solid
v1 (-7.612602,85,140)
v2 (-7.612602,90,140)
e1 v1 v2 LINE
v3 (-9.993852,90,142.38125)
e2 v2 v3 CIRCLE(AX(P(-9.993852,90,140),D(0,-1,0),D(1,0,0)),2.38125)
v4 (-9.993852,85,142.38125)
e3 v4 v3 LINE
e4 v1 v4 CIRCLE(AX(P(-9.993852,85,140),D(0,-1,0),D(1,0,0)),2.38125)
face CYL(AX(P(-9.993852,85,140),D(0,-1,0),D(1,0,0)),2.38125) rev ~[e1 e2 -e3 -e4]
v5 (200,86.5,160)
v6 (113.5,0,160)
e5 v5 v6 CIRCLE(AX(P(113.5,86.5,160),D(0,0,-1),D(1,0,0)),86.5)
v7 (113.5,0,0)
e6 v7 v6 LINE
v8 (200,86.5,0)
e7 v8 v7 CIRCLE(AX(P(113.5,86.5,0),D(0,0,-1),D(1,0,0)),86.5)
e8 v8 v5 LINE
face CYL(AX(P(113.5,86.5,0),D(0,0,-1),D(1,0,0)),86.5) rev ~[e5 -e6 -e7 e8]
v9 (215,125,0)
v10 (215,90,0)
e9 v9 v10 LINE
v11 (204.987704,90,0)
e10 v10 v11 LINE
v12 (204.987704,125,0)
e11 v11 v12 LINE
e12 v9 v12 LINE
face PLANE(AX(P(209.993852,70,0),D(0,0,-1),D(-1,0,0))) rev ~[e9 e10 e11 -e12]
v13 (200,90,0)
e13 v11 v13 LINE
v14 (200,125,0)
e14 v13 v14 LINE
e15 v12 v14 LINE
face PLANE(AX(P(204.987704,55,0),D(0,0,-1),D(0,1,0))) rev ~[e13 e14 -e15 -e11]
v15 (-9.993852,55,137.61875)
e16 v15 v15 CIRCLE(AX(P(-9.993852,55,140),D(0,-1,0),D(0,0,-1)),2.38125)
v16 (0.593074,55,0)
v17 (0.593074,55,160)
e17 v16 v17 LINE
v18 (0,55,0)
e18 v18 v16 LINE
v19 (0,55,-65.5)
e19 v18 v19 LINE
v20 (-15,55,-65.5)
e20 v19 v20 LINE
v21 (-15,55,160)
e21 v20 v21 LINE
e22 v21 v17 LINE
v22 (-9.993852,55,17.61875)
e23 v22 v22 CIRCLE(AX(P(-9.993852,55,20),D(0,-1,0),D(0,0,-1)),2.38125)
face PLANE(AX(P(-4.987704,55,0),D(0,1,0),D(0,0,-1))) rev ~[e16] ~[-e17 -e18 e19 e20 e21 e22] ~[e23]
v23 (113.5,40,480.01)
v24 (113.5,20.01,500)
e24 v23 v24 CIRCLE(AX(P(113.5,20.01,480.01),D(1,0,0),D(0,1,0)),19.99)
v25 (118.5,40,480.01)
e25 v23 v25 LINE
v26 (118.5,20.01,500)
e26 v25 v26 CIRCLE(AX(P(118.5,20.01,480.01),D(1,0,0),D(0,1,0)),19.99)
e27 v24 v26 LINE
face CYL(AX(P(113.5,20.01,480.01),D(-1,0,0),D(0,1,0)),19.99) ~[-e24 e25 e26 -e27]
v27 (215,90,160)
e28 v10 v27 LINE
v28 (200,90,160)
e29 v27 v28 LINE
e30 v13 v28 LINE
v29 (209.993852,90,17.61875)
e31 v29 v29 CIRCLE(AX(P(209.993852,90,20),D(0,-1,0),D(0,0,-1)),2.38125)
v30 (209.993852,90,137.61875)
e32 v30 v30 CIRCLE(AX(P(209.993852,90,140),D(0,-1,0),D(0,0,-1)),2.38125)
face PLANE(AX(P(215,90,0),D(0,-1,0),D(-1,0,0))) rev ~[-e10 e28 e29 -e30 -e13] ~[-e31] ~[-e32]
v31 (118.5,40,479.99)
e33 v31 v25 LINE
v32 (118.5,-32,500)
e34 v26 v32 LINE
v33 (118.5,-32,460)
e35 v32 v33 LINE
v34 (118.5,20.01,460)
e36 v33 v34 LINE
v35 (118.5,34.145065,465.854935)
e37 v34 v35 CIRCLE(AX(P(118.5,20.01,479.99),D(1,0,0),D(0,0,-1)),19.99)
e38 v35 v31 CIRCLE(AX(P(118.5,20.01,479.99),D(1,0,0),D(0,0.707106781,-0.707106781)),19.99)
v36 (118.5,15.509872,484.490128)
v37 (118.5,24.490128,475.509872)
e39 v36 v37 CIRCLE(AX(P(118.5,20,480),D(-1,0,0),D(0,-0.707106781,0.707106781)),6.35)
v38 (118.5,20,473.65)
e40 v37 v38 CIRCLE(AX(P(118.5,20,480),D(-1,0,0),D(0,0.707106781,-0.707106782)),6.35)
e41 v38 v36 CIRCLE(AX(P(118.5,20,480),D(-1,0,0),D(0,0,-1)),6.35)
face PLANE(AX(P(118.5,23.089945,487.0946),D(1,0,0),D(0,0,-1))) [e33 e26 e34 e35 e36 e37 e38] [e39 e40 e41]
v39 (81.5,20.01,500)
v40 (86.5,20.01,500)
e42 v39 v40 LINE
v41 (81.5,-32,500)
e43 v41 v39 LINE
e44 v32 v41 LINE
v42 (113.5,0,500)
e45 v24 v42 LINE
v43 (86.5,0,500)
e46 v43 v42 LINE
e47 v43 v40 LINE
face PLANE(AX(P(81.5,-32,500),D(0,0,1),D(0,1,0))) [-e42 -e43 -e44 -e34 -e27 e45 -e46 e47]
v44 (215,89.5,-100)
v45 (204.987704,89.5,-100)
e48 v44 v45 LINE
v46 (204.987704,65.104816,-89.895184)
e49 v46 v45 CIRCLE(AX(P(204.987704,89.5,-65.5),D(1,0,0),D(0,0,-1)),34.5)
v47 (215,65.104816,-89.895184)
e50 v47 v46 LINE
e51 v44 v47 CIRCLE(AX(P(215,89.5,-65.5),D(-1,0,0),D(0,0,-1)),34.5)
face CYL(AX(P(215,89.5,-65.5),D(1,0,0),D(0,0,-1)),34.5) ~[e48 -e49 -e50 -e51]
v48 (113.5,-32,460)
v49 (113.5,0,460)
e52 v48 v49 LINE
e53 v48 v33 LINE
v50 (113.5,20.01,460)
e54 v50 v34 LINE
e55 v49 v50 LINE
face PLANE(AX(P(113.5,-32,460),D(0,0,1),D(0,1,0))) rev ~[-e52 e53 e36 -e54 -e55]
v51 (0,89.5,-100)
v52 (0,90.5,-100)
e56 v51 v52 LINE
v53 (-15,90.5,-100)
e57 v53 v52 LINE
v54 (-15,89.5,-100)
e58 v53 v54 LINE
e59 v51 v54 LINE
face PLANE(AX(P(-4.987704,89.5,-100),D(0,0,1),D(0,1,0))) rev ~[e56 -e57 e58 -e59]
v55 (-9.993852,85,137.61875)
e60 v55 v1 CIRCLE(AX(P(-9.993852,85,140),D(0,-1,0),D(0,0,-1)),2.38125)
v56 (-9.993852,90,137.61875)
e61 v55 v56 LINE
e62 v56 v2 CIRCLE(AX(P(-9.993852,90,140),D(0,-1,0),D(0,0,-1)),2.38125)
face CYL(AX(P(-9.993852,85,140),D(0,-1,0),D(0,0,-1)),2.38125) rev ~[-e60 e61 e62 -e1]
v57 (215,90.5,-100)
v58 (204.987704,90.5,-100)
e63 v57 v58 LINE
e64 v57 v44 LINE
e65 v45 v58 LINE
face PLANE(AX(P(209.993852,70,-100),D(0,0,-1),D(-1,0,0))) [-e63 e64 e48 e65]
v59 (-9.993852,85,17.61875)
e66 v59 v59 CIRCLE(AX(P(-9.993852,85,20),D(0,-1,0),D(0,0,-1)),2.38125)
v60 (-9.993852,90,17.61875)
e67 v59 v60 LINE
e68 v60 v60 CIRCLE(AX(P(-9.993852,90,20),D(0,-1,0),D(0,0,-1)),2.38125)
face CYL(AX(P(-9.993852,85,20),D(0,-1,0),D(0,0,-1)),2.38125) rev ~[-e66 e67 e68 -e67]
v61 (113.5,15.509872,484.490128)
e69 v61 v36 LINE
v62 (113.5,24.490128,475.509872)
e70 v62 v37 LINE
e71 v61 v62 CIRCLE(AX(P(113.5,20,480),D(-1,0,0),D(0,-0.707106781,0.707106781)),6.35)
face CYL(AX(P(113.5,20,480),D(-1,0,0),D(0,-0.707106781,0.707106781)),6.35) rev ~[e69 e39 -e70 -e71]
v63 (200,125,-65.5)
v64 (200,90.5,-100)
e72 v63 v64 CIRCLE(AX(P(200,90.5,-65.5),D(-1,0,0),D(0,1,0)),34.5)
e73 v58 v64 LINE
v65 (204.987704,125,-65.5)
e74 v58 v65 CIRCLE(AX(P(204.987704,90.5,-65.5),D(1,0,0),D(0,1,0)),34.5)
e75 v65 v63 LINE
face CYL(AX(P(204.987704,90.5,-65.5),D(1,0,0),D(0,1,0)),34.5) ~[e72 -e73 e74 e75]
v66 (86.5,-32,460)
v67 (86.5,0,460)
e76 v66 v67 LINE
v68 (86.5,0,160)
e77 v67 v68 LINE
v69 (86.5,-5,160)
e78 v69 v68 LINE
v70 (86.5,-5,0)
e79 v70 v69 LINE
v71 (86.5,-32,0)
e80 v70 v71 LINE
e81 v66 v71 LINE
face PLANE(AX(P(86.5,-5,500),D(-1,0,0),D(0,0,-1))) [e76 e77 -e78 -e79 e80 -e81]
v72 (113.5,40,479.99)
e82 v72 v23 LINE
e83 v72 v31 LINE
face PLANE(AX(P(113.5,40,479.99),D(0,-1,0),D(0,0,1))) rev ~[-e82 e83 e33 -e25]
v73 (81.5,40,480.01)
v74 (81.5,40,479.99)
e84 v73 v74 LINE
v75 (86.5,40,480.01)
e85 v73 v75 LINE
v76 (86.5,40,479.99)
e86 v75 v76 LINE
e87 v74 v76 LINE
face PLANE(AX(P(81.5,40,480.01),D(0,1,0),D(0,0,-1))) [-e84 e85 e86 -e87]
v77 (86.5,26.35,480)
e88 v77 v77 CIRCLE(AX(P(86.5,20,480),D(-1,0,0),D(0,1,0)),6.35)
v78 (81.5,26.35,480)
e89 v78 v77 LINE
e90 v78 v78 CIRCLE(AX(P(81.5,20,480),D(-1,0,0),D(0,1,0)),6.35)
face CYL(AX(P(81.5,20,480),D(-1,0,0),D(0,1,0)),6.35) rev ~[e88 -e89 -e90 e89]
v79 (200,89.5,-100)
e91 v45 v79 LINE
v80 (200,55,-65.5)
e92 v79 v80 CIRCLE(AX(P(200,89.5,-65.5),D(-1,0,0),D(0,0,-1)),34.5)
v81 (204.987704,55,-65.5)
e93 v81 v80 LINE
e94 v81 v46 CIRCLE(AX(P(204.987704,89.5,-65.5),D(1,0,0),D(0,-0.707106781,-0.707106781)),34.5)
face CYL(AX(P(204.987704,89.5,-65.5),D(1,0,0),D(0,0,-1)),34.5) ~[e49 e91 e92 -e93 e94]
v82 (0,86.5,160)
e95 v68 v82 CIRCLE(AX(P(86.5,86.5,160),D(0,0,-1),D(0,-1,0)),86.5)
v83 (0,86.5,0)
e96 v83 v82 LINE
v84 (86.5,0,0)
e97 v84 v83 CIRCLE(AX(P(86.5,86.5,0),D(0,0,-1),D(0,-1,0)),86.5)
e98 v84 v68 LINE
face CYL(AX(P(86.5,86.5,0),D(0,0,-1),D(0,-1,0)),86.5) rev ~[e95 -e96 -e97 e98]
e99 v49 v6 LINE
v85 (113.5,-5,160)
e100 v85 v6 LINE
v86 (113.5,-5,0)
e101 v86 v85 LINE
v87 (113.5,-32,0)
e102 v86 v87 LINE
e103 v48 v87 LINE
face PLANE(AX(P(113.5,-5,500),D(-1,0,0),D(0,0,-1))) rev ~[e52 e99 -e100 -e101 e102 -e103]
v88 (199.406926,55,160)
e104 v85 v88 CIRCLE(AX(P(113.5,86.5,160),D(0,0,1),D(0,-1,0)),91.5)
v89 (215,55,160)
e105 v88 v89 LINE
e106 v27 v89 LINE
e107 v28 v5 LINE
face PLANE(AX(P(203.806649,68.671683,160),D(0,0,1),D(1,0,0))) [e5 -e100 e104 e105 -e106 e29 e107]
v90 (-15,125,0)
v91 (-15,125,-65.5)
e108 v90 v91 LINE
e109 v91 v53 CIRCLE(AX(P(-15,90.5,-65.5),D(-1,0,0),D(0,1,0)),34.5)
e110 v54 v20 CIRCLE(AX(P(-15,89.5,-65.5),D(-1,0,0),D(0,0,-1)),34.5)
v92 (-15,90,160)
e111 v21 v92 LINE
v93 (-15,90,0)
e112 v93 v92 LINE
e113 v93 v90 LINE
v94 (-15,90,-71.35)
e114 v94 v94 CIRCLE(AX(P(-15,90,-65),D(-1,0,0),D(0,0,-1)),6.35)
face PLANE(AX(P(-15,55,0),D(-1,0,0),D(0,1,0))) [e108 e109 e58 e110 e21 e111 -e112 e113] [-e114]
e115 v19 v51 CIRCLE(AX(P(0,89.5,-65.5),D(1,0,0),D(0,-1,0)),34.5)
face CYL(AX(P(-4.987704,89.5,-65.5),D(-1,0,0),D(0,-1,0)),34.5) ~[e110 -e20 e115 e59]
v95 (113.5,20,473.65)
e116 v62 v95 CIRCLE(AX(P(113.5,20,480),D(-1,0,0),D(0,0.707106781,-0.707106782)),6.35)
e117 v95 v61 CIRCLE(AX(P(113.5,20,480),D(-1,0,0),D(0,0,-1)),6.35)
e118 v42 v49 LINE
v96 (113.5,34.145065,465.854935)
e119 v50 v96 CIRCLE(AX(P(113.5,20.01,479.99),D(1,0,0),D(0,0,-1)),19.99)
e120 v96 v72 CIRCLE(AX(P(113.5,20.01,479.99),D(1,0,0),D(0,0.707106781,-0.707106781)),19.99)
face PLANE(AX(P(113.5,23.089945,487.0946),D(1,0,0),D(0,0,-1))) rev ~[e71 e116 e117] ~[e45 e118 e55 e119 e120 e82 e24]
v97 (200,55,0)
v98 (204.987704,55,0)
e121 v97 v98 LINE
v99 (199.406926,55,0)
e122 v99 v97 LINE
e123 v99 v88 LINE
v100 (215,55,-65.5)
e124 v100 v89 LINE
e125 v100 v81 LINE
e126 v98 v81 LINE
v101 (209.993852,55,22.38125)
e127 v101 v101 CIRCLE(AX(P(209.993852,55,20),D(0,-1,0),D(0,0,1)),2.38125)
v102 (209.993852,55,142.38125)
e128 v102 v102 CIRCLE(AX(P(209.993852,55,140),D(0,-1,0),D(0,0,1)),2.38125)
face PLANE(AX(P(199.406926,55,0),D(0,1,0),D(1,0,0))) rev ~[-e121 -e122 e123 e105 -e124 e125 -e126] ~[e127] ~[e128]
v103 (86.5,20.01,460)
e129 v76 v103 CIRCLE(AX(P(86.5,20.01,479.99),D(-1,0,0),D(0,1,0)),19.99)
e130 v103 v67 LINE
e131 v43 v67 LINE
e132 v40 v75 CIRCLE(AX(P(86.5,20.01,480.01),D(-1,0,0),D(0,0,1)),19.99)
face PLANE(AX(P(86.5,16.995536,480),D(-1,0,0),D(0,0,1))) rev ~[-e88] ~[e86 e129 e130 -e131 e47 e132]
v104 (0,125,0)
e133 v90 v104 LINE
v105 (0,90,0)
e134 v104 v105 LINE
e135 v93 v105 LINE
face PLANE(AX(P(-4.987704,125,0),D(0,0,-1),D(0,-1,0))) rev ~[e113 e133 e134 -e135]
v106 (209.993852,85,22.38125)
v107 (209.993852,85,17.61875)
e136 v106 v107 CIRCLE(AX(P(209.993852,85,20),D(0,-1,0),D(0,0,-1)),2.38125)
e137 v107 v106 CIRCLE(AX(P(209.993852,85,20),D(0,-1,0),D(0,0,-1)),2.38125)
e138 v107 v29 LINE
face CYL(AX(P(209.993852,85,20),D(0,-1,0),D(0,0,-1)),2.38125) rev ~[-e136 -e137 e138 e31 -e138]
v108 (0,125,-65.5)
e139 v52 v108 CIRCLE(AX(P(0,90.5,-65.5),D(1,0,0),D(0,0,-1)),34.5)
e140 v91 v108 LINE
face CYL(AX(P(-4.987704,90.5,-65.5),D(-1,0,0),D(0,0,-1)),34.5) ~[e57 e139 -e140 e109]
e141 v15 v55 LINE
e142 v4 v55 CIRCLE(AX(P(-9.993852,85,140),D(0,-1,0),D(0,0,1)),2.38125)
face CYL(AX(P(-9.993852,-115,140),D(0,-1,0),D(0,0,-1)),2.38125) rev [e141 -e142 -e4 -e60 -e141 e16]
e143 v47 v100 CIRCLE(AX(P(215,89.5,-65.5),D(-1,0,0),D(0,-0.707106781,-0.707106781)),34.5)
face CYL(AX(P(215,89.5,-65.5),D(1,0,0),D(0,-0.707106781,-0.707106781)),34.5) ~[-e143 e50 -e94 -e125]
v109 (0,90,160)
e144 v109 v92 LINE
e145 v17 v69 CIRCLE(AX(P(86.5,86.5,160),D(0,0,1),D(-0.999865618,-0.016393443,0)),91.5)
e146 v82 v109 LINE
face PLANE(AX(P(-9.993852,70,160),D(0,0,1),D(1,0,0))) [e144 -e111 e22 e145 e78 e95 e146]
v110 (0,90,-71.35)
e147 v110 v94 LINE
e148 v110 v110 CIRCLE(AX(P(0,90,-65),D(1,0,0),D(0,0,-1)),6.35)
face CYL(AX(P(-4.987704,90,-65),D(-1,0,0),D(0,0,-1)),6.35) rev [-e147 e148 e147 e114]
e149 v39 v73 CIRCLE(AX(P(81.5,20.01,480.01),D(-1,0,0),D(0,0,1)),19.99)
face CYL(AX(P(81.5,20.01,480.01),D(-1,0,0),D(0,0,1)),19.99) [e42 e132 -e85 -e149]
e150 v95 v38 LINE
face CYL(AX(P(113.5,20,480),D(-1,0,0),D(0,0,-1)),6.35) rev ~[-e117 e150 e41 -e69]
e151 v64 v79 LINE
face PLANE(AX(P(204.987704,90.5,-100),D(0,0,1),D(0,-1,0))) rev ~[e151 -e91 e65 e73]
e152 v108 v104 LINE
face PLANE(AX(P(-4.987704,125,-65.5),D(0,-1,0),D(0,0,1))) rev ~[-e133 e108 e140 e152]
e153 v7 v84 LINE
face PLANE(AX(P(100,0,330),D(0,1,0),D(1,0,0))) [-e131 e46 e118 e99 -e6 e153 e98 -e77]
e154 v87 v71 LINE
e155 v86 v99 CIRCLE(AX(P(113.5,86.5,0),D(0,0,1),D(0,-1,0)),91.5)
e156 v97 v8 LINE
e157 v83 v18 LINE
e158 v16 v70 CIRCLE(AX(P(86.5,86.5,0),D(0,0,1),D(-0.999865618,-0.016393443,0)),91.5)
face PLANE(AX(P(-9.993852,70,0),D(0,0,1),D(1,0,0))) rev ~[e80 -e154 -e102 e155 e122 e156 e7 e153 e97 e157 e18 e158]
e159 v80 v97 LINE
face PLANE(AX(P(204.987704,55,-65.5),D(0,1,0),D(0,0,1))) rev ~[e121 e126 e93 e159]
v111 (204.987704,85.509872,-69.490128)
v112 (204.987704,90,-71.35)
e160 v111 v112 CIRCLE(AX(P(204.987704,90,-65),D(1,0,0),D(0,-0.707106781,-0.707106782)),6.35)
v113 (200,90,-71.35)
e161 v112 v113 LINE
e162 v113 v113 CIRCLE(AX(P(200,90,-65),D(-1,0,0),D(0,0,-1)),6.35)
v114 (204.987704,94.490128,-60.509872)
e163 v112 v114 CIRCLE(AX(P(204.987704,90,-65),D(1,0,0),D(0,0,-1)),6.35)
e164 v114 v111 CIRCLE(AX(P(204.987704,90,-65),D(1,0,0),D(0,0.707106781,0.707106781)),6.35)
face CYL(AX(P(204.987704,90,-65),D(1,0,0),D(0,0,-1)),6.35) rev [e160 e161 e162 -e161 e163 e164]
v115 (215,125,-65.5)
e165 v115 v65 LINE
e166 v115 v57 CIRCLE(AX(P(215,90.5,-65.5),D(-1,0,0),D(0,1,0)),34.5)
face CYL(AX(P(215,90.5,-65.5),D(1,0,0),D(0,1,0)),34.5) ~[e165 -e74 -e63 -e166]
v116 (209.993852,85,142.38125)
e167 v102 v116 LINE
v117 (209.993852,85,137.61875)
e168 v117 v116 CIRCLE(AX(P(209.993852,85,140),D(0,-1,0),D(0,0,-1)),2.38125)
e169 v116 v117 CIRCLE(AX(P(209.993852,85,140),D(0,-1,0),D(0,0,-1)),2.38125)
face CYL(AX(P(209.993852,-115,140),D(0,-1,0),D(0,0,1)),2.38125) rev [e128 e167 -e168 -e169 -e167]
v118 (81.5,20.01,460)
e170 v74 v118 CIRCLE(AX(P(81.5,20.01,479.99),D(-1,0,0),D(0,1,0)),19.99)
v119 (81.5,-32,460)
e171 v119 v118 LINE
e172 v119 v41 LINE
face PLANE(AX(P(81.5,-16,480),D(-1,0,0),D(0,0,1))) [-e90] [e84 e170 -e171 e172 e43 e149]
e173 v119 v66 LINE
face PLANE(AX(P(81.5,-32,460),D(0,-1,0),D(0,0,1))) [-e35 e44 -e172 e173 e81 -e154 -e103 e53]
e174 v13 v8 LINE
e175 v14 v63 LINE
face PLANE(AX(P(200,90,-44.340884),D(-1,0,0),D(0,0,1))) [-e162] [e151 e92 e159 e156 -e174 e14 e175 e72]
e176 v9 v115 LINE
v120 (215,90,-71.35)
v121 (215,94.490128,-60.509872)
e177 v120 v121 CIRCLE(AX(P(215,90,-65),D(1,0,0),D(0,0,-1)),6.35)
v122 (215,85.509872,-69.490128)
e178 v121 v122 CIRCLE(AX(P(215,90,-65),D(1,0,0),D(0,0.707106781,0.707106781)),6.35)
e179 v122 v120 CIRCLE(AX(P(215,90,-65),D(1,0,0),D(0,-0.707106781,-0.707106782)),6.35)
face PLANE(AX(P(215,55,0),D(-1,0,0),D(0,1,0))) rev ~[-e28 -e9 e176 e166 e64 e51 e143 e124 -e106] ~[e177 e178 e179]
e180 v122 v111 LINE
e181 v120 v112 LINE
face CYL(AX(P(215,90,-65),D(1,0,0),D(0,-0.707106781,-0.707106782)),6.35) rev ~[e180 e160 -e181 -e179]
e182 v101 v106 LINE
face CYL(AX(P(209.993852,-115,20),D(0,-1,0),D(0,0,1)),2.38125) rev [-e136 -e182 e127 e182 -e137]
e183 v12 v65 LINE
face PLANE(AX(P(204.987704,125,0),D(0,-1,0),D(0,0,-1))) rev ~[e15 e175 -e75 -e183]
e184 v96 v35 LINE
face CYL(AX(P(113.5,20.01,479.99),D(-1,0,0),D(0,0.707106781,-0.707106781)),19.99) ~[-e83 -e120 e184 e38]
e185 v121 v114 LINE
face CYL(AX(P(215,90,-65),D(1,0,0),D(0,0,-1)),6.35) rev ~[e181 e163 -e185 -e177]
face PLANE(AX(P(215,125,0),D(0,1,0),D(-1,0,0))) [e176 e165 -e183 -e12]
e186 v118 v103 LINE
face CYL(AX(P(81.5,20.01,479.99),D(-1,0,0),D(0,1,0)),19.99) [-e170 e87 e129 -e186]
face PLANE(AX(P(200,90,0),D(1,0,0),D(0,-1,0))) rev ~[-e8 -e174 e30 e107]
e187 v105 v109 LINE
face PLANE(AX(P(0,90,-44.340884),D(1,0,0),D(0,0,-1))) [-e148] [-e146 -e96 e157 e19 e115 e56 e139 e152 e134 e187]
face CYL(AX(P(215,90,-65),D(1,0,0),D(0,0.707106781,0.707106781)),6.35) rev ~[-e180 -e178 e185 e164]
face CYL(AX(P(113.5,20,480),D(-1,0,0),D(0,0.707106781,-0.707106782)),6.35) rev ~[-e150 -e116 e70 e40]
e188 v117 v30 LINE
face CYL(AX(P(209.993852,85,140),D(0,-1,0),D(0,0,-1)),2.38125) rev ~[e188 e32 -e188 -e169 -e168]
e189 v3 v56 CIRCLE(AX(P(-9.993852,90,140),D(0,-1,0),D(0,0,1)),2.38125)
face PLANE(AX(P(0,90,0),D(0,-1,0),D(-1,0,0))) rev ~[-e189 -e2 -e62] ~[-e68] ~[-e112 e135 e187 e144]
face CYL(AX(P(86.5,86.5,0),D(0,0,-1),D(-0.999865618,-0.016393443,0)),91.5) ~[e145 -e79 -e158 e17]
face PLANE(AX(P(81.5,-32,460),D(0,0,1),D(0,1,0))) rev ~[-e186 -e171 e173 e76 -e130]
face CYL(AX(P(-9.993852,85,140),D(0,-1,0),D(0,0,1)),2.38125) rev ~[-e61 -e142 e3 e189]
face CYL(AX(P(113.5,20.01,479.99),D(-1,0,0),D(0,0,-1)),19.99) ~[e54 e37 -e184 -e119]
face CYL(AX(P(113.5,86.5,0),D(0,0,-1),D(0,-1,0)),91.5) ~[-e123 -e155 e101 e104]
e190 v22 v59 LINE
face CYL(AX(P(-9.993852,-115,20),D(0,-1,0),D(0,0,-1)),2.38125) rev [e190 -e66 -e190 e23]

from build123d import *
from build123d.topology import SkipClean

# Parameters (mm, degrees)
BOSS_EXTRUDE1_DEPTH  = 160
SKETCH2_R            = 2.38125
CUT_EXTRUDE1_DEPTH   = 160
SKETCH3_W            = 27
SKETCH3_H            = 500
BOSS_EXTRUDE2_DEPTH  = 27
SKETCH4_W            = 27
SKETCH4_H            = 340
BOSS_EXTRUDE3_DEPTH  = 5
SKETCH5_W            = 40
SKETCH5_H            = 32
BOSS_EXTRUDE4_DEPTH  = 5
BOSS_EXTRUDE5_START  = 5
SKETCH6_W            = 40
SKETCH6_H            = 32
SKETCH6_R            = 6.35
BOSS_EXTRUDE5_DEPTH  = 5
SKETCH7_W            = 10.012295908
SKETCH7_H            = 30
SKETCH7_H_2          = 5
BOSS_EXTRUDE6_DEPTH  = 100
BOSS_EXTRUDE7_START  = -160
SKETCH8_W            = 10.012295908
SKETCH8_H            = 30
BOSS_EXTRUDE7_DEPTH  = 160
CUT_EXTRUDE2_DEPTH   = 100
BOSS_EXTRUDE8_START  = -10.012296
SKETCH10_R           = 6.35
BOSS_EXTRUDE8_DEPTH  = 10.012296
BOSS_EXTRUDE9_START  = -160
SKETCH11_W           = 10.012295908
SKETCH11_H           = 30
BOSS_EXTRUDE9_DEPTH  = 160
SKETCH12_R           = 6.35
BOSS_EXTRUDE10_DEPTH = 4.987704
SKETCH13_R           = 6.35
BOSS_EXTRUDE11_DEPTH = 4.987704
CUT_EXTRUDE3_START   = -200
SKETCH14_R           = 2.38125
CUT_EXTRUDE3_DEPTH   = 200


with BuildPart() as part:
    # Sketch1 → Boss-Extrude1 (new body)
    with BuildSketch(Plane.XY):
        with BuildLine():
            Line((113.5, 0), (86.5, 0))
            ThreePointArc((86.5, 0), (25.335263427, 25.335263427), (0, 86.5))
            Line((0, 86.5), (0, 90))
            Line((0, 90), (-15, 90))
            Line((-15, 90), (-15, 85))
            Line((-15, 85), (-4.987704092, 85))
            ThreePointArc((-4.987704092, 85), (22.332251091, 21.271555285), (86.5, -5))
            Line((86.5, -5), (113.5, -5))
            ThreePointArc((113.5, -5), (177.667748909, 21.271555285), (204.987704092, 85))
            Line((204.987704092, 85), (215, 85))
            Line((215, 85), (215, 90))
            Line((215, 90), (200, 90))
            Line((200, 90), (200, 86.5))
            ThreePointArc((200, 86.5), (174.664736573, 25.335263427), (113.5, 0))
        make_face()
    extrude(amount=BOSS_EXTRUDE1_DEPTH)

    # Sketch2 → Cut-Extrude1 (cut)
    with BuildSketch(Plane.XZ.offset(-85)):
        with BuildLine():
            ThreePointArc((-9.993852046, 142.38125), (-12.375102046, 140), (-9.993852046, 137.61875))
            Line((-9.993852046, 137.61875), (-9.993852046, 142.38125))
        make_face()
        with BuildLine():
            Line((-9.993852046, 142.38125), (-9.993852046, 137.61875))
            ThreePointArc((-9.993852046, 137.61875), (-8.310054023, 138.316201977), (-7.612602046, 140))
            ThreePointArc((-7.612602046, 140), (-8.310054023, 141.683798023), (-9.993852046, 142.38125))
        make_face()
        with Locations(Location((-9.993852046, 20, 0), (0, 0, 270))):
            Circle(SKETCH2_R)
        with Locations(Location((209.993852046, 20, 0), (0, 0, 270))):
            Circle(SKETCH2_R)
        with Locations(Location((209.993852046, 140, 0), (0, 0, 270))):
            Circle(SKETCH2_R)
    extrude(amount=-CUT_EXTRUDE1_DEPTH, mode=Mode.SUBTRACT)

    # Sketch3 → Boss-Extrude2 (add)
    with BuildSketch(Plane(origin=(0, -5, 0), x_dir=(-1, 0, 0), z_dir=(0, -1, 0))):
        with Locations((-100, -250)):
            Rectangle(SKETCH3_W, SKETCH3_H)
    extrude(amount=BOSS_EXTRUDE2_DEPTH)

    # Sketch4 → Boss-Extrude3 (add)
    with BuildSketch(Plane(origin=(0, -5, 0), x_dir=(1, 0, 0), z_dir=(0, 1, 0))):
        with Locations((100, -330)):
            Rectangle(SKETCH4_W, SKETCH4_H)
    extrude(amount=BOSS_EXTRUDE3_DEPTH)

    # Sketch5 → Boss-Extrude4 (add)
    with BuildSketch(Plane(origin=(113.5, 0, 0), x_dir=(0, 0, -1), z_dir=(1, 0, 0))):
        with BuildLine():
            Line((-500, 20.01), (-500, 0))
            Line((-500, 0), (-484.490128061, 15.509871939))
            ThreePointArc((-484.490128061, 15.509871939), (-484.490128061, 24.490128061), (-475.509871939, 24.490128061))
            Line((-475.509871939, 24.490128061), (-465.854935444, 34.145064556))
            ThreePointArc((-465.854935444, 34.145064556), (-472.340158187, 38.478351855), (-479.99, 40))
            Line((-479.99, 40), (-480.01, 40))
            ThreePointArc((-480.01, 40), (-494.145064556, 34.145064556), (-500, 20.01))
        make_face()
        with BuildLine():
            Line((-484.490128061, 15.509871939), (-500, 0))
            Line((-500, 0), (-460, 0))
            Line((-460, 0), (-460, 20.01))
            ThreePointArc((-460, 20.01), (-461.521648145, 27.659841813), (-465.854935444, 34.145064556))
            Line((-465.854935444, 34.145064556), (-475.509871939, 24.490128061))
            ThreePointArc((-475.509871939, 24.490128061), (-474.133364969, 22.430039796), (-473.65, 20))
            ThreePointArc((-473.65, 20), (-477.569960204, 14.133364969), (-484.490128061, 15.509871939))
        make_face()
        with Locations((-480, -16)):
            Rectangle(SKETCH5_W, SKETCH5_H)
    extrude(amount=BOSS_EXTRUDE4_DEPTH)

    # Sketch6 → Boss-Extrude5 (add)
    # profile 1 of 2: a face of its own
    with BuildSketch(Plane.ZY.offset(-86.5).offset(BOSS_EXTRUDE5_START)):
        with Locations((480, -16)):
            Rectangle(SKETCH6_W, SKETCH6_H)
    # profile 2 of 2: a face of its own
    with BuildSketch(Plane.ZY.offset(-86.5).offset(BOSS_EXTRUDE5_START)):
        with BuildLine():
            Line((460, 20.01), (460, 0))
            Line((460, 0), (500, 0))
            Line((500, 0), (500, 20.01))
            ThreePointArc((500, 20.01), (494.145064556, 34.145064556), (480.01, 40))
            Line((480.01, 40), (479.99, 40))
            ThreePointArc((479.99, 40), (465.854935444, 34.145064556), (460, 20.01))
        make_face()
        with Locations(Location((480, 20, 0), (0, 0, 90))):
            Circle(SKETCH6_R, mode=Mode.SUBTRACT)
    extrude(amount=-BOSS_EXTRUDE5_DEPTH)

    # Sketch7 → Boss-Extrude6 (add)
    with BuildSketch(Plane(origin=(0, 0, 0), x_dir=(-1, 0, 0), z_dir=(0, 0, -1))):
        with Locations((-209.993852046, 70)):
            Rectangle(SKETCH7_W, SKETCH7_H)
        with Locations((-209.993852046, 92.5)):
            Rectangle(SKETCH7_W, SKETCH7_H_2)
        with Locations((-209.993852046, 87.5)):
            Rectangle(SKETCH7_W, SKETCH7_H_2)
        with Locations((-209.993852046, 110)):
            Rectangle(SKETCH7_W, SKETCH7_H)
    extrude(amount=BOSS_EXTRUDE6_DEPTH)

    # Sketch8 → Boss-Extrude7 (add)
    with BuildSketch(Plane.XY.offset(160).offset(BOSS_EXTRUDE7_START)):
        with BuildLine():
            Line((199.40692638, 55), (204.987704092, 55))
            Line((204.987704092, 55), (204.987704092, 85))
            ThreePointArc((204.987704092, 85), (203.456732544, 69.765715732), (199.40692638, 55))
        make_face()
        with Locations((209.993852046, 70)):
            Rectangle(SKETCH8_W, SKETCH8_H)
    extrude(amount=BOSS_EXTRUDE7_DEPTH)

    # Sketch9 → Cut-Extrude2 (cut)
    with BuildSketch(Plane(origin=(215, 0, 0), x_dir=(0, 0, -1), z_dir=(1, 0, 0))):
        with BuildLine():
            ThreePointArc((71.35, 90), (67.430039796, 95.866635031), (60.509871939, 94.490128061))
            Line((60.509871939, 94.490128061), (69.490128061, 85.509871939))
            ThreePointArc((69.490128061, 85.509871939), (70.866635031, 87.569960204), (71.35, 90))
        make_face()
        with BuildLine():
            Line((69.490128061, 85.509871939), (60.509871939, 94.490128061))
            ThreePointArc((60.509871939, 94.490128061), (60.509871939, 85.509871939), (69.490128061, 85.509871939))
        make_face()
        with BuildLine():
            ThreePointArc((89.895183951, 65.104816049), (78.702578417, 57.626156128), (65.5, 55))
            Line((65.5, 55), (100, 55))
            Line((100, 55), (89.895183951, 65.104816049))
        make_face()
        with BuildLine():
            Line((100, 55), (100, 89.5))
            ThreePointArc((100, 89.5), (97.373843872, 76.297421583), (89.895183951, 65.104816049))
            Line((89.895183951, 65.104816049), (100, 55))
        make_face()
        with BuildLine():
            Line((100, 125), (65.5, 125))
            ThreePointArc((65.5, 125), (89.895183951, 114.895183951), (100, 90.5))
            Line((100, 90.5), (100, 125))
        make_face()
    extrude(amount=-CUT_EXTRUDE2_DEPTH, mode=Mode.SUBTRACT)

    # Sketch10 → Boss-Extrude8 (add)
    with BuildSketch(Plane.ZY.offset(15).offset(BOSS_EXTRUDE8_START)):
        with BuildLine():
            Line((0, 85), (0, 90))
            Line((0, 90), (0, 125))
            Line((0, 125), (-65.5, 125))
            ThreePointArc((-65.5, 125), (-89.895183951, 114.895183951), (-100, 90.5))
            Line((-100, 90.5), (-100, 89.5))
            ThreePointArc((-100, 89.5), (-89.895183951, 65.104816049), (-65.5, 55))
            Line((-65.5, 55), (0, 55))
            Line((0, 55), (0, 85))
        make_face()
        with Locations(Location((-65, 90, 0), (0, 0, 180))):
            Circle(SKETCH10_R, mode=Mode.SUBTRACT)
    extrude(amount=BOSS_EXTRUDE8_DEPTH)

    # Sketch11 → Boss-Extrude9 (add)
    with BuildSketch(Plane.XY.offset(160).offset(BOSS_EXTRUDE9_START)):
        with Locations((-9.993852046, 70)):
            Rectangle(SKETCH11_W, SKETCH11_H)
        with BuildLine():
            Line((-4.987704092, 85), (-4.987704092, 55))
            Line((-4.987704092, 55), (0.59307362, 55))
            ThreePointArc((0.59307362, 55), (-3.456732544, 69.765715732), (-4.987704092, 85))
        make_face()
    extrude(amount=BOSS_EXTRUDE9_DEPTH)

    # Sketch12 → Boss-Extrude10 (add)
    with BuildSketch(Plane(origin=(-4.987704092, 0, 0), x_dir=(0, 0, -1), z_dir=(1, 0, 0))):
        with BuildLine():
            Line((100, 89.5), (100, 90.5))
            ThreePointArc((100, 90.5), (89.895183951, 114.895183951), (65.5, 125))
            Line((65.5, 125), (0, 125))
            Line((0, 125), (0, 90))
            Line((0, 90), (0, 55))
            Line((0, 55), (65.5, 55))
            ThreePointArc((65.5, 55), (89.895183951, 65.104816049), (100, 89.5))
        make_face()
        with Locations((65, 90)):
            Circle(SKETCH12_R, mode=Mode.SUBTRACT)
    extrude(amount=BOSS_EXTRUDE10_DEPTH)

    # Sketch13 → Boss-Extrude11 (add)
    with SkipClean():  # the faces are left unmerged after this step: merging them gives an invalid solid
        with BuildSketch(Plane.ZY.offset(-204.987704092)):
            with BuildLine():
                Line((-100, 90.5), (-100, 89.5))
                ThreePointArc((-100, 89.5), (-89.895183951, 65.104816049), (-65.5, 55))
                Line((-65.5, 55), (0, 55))
                Line((0, 55), (0, 90))
                Line((0, 90), (0, 125))
                Line((0, 125), (-65.5, 125))
                ThreePointArc((-65.5, 125), (-89.895183951, 114.895183951), (-100, 90.5))
            make_face()
            with Locations(Location((-65, 90, 0), (0, 0, 180))):
                Circle(SKETCH13_R, mode=Mode.SUBTRACT)
        extrude(amount=BOSS_EXTRUDE11_DEPTH)

    # Sketch14 → Cut-Extrude3 (cut)
    with SkipClean():  # the faces are left unmerged after this step: merging them gives an invalid solid
        with BuildSketch(Plane(origin=(0, 85, 0), x_dir=(1, 0, 0), z_dir=(0, 1, 0)).offset(CUT_EXTRUDE3_START)):
            with Locations(Location((-9.993852046, -20, 0), (0, 0, 90))):
                Circle(SKETCH14_R)
            with Locations(Location((-9.993852046, -140, 0), (0, 0, 90))):
                Circle(SKETCH14_R)
            with Locations(Location((209.993852046, -140, 0), (0, 0, 270))):
                Circle(SKETCH14_R)
            with Locations(Location((209.993852046, -20, 0), (0, 0, 270))):
                Circle(SKETCH14_R)
        extrude(amount=CUT_EXTRUDE3_DEPTH, mode=Mode.SUBTRACT)


solid = part.part
